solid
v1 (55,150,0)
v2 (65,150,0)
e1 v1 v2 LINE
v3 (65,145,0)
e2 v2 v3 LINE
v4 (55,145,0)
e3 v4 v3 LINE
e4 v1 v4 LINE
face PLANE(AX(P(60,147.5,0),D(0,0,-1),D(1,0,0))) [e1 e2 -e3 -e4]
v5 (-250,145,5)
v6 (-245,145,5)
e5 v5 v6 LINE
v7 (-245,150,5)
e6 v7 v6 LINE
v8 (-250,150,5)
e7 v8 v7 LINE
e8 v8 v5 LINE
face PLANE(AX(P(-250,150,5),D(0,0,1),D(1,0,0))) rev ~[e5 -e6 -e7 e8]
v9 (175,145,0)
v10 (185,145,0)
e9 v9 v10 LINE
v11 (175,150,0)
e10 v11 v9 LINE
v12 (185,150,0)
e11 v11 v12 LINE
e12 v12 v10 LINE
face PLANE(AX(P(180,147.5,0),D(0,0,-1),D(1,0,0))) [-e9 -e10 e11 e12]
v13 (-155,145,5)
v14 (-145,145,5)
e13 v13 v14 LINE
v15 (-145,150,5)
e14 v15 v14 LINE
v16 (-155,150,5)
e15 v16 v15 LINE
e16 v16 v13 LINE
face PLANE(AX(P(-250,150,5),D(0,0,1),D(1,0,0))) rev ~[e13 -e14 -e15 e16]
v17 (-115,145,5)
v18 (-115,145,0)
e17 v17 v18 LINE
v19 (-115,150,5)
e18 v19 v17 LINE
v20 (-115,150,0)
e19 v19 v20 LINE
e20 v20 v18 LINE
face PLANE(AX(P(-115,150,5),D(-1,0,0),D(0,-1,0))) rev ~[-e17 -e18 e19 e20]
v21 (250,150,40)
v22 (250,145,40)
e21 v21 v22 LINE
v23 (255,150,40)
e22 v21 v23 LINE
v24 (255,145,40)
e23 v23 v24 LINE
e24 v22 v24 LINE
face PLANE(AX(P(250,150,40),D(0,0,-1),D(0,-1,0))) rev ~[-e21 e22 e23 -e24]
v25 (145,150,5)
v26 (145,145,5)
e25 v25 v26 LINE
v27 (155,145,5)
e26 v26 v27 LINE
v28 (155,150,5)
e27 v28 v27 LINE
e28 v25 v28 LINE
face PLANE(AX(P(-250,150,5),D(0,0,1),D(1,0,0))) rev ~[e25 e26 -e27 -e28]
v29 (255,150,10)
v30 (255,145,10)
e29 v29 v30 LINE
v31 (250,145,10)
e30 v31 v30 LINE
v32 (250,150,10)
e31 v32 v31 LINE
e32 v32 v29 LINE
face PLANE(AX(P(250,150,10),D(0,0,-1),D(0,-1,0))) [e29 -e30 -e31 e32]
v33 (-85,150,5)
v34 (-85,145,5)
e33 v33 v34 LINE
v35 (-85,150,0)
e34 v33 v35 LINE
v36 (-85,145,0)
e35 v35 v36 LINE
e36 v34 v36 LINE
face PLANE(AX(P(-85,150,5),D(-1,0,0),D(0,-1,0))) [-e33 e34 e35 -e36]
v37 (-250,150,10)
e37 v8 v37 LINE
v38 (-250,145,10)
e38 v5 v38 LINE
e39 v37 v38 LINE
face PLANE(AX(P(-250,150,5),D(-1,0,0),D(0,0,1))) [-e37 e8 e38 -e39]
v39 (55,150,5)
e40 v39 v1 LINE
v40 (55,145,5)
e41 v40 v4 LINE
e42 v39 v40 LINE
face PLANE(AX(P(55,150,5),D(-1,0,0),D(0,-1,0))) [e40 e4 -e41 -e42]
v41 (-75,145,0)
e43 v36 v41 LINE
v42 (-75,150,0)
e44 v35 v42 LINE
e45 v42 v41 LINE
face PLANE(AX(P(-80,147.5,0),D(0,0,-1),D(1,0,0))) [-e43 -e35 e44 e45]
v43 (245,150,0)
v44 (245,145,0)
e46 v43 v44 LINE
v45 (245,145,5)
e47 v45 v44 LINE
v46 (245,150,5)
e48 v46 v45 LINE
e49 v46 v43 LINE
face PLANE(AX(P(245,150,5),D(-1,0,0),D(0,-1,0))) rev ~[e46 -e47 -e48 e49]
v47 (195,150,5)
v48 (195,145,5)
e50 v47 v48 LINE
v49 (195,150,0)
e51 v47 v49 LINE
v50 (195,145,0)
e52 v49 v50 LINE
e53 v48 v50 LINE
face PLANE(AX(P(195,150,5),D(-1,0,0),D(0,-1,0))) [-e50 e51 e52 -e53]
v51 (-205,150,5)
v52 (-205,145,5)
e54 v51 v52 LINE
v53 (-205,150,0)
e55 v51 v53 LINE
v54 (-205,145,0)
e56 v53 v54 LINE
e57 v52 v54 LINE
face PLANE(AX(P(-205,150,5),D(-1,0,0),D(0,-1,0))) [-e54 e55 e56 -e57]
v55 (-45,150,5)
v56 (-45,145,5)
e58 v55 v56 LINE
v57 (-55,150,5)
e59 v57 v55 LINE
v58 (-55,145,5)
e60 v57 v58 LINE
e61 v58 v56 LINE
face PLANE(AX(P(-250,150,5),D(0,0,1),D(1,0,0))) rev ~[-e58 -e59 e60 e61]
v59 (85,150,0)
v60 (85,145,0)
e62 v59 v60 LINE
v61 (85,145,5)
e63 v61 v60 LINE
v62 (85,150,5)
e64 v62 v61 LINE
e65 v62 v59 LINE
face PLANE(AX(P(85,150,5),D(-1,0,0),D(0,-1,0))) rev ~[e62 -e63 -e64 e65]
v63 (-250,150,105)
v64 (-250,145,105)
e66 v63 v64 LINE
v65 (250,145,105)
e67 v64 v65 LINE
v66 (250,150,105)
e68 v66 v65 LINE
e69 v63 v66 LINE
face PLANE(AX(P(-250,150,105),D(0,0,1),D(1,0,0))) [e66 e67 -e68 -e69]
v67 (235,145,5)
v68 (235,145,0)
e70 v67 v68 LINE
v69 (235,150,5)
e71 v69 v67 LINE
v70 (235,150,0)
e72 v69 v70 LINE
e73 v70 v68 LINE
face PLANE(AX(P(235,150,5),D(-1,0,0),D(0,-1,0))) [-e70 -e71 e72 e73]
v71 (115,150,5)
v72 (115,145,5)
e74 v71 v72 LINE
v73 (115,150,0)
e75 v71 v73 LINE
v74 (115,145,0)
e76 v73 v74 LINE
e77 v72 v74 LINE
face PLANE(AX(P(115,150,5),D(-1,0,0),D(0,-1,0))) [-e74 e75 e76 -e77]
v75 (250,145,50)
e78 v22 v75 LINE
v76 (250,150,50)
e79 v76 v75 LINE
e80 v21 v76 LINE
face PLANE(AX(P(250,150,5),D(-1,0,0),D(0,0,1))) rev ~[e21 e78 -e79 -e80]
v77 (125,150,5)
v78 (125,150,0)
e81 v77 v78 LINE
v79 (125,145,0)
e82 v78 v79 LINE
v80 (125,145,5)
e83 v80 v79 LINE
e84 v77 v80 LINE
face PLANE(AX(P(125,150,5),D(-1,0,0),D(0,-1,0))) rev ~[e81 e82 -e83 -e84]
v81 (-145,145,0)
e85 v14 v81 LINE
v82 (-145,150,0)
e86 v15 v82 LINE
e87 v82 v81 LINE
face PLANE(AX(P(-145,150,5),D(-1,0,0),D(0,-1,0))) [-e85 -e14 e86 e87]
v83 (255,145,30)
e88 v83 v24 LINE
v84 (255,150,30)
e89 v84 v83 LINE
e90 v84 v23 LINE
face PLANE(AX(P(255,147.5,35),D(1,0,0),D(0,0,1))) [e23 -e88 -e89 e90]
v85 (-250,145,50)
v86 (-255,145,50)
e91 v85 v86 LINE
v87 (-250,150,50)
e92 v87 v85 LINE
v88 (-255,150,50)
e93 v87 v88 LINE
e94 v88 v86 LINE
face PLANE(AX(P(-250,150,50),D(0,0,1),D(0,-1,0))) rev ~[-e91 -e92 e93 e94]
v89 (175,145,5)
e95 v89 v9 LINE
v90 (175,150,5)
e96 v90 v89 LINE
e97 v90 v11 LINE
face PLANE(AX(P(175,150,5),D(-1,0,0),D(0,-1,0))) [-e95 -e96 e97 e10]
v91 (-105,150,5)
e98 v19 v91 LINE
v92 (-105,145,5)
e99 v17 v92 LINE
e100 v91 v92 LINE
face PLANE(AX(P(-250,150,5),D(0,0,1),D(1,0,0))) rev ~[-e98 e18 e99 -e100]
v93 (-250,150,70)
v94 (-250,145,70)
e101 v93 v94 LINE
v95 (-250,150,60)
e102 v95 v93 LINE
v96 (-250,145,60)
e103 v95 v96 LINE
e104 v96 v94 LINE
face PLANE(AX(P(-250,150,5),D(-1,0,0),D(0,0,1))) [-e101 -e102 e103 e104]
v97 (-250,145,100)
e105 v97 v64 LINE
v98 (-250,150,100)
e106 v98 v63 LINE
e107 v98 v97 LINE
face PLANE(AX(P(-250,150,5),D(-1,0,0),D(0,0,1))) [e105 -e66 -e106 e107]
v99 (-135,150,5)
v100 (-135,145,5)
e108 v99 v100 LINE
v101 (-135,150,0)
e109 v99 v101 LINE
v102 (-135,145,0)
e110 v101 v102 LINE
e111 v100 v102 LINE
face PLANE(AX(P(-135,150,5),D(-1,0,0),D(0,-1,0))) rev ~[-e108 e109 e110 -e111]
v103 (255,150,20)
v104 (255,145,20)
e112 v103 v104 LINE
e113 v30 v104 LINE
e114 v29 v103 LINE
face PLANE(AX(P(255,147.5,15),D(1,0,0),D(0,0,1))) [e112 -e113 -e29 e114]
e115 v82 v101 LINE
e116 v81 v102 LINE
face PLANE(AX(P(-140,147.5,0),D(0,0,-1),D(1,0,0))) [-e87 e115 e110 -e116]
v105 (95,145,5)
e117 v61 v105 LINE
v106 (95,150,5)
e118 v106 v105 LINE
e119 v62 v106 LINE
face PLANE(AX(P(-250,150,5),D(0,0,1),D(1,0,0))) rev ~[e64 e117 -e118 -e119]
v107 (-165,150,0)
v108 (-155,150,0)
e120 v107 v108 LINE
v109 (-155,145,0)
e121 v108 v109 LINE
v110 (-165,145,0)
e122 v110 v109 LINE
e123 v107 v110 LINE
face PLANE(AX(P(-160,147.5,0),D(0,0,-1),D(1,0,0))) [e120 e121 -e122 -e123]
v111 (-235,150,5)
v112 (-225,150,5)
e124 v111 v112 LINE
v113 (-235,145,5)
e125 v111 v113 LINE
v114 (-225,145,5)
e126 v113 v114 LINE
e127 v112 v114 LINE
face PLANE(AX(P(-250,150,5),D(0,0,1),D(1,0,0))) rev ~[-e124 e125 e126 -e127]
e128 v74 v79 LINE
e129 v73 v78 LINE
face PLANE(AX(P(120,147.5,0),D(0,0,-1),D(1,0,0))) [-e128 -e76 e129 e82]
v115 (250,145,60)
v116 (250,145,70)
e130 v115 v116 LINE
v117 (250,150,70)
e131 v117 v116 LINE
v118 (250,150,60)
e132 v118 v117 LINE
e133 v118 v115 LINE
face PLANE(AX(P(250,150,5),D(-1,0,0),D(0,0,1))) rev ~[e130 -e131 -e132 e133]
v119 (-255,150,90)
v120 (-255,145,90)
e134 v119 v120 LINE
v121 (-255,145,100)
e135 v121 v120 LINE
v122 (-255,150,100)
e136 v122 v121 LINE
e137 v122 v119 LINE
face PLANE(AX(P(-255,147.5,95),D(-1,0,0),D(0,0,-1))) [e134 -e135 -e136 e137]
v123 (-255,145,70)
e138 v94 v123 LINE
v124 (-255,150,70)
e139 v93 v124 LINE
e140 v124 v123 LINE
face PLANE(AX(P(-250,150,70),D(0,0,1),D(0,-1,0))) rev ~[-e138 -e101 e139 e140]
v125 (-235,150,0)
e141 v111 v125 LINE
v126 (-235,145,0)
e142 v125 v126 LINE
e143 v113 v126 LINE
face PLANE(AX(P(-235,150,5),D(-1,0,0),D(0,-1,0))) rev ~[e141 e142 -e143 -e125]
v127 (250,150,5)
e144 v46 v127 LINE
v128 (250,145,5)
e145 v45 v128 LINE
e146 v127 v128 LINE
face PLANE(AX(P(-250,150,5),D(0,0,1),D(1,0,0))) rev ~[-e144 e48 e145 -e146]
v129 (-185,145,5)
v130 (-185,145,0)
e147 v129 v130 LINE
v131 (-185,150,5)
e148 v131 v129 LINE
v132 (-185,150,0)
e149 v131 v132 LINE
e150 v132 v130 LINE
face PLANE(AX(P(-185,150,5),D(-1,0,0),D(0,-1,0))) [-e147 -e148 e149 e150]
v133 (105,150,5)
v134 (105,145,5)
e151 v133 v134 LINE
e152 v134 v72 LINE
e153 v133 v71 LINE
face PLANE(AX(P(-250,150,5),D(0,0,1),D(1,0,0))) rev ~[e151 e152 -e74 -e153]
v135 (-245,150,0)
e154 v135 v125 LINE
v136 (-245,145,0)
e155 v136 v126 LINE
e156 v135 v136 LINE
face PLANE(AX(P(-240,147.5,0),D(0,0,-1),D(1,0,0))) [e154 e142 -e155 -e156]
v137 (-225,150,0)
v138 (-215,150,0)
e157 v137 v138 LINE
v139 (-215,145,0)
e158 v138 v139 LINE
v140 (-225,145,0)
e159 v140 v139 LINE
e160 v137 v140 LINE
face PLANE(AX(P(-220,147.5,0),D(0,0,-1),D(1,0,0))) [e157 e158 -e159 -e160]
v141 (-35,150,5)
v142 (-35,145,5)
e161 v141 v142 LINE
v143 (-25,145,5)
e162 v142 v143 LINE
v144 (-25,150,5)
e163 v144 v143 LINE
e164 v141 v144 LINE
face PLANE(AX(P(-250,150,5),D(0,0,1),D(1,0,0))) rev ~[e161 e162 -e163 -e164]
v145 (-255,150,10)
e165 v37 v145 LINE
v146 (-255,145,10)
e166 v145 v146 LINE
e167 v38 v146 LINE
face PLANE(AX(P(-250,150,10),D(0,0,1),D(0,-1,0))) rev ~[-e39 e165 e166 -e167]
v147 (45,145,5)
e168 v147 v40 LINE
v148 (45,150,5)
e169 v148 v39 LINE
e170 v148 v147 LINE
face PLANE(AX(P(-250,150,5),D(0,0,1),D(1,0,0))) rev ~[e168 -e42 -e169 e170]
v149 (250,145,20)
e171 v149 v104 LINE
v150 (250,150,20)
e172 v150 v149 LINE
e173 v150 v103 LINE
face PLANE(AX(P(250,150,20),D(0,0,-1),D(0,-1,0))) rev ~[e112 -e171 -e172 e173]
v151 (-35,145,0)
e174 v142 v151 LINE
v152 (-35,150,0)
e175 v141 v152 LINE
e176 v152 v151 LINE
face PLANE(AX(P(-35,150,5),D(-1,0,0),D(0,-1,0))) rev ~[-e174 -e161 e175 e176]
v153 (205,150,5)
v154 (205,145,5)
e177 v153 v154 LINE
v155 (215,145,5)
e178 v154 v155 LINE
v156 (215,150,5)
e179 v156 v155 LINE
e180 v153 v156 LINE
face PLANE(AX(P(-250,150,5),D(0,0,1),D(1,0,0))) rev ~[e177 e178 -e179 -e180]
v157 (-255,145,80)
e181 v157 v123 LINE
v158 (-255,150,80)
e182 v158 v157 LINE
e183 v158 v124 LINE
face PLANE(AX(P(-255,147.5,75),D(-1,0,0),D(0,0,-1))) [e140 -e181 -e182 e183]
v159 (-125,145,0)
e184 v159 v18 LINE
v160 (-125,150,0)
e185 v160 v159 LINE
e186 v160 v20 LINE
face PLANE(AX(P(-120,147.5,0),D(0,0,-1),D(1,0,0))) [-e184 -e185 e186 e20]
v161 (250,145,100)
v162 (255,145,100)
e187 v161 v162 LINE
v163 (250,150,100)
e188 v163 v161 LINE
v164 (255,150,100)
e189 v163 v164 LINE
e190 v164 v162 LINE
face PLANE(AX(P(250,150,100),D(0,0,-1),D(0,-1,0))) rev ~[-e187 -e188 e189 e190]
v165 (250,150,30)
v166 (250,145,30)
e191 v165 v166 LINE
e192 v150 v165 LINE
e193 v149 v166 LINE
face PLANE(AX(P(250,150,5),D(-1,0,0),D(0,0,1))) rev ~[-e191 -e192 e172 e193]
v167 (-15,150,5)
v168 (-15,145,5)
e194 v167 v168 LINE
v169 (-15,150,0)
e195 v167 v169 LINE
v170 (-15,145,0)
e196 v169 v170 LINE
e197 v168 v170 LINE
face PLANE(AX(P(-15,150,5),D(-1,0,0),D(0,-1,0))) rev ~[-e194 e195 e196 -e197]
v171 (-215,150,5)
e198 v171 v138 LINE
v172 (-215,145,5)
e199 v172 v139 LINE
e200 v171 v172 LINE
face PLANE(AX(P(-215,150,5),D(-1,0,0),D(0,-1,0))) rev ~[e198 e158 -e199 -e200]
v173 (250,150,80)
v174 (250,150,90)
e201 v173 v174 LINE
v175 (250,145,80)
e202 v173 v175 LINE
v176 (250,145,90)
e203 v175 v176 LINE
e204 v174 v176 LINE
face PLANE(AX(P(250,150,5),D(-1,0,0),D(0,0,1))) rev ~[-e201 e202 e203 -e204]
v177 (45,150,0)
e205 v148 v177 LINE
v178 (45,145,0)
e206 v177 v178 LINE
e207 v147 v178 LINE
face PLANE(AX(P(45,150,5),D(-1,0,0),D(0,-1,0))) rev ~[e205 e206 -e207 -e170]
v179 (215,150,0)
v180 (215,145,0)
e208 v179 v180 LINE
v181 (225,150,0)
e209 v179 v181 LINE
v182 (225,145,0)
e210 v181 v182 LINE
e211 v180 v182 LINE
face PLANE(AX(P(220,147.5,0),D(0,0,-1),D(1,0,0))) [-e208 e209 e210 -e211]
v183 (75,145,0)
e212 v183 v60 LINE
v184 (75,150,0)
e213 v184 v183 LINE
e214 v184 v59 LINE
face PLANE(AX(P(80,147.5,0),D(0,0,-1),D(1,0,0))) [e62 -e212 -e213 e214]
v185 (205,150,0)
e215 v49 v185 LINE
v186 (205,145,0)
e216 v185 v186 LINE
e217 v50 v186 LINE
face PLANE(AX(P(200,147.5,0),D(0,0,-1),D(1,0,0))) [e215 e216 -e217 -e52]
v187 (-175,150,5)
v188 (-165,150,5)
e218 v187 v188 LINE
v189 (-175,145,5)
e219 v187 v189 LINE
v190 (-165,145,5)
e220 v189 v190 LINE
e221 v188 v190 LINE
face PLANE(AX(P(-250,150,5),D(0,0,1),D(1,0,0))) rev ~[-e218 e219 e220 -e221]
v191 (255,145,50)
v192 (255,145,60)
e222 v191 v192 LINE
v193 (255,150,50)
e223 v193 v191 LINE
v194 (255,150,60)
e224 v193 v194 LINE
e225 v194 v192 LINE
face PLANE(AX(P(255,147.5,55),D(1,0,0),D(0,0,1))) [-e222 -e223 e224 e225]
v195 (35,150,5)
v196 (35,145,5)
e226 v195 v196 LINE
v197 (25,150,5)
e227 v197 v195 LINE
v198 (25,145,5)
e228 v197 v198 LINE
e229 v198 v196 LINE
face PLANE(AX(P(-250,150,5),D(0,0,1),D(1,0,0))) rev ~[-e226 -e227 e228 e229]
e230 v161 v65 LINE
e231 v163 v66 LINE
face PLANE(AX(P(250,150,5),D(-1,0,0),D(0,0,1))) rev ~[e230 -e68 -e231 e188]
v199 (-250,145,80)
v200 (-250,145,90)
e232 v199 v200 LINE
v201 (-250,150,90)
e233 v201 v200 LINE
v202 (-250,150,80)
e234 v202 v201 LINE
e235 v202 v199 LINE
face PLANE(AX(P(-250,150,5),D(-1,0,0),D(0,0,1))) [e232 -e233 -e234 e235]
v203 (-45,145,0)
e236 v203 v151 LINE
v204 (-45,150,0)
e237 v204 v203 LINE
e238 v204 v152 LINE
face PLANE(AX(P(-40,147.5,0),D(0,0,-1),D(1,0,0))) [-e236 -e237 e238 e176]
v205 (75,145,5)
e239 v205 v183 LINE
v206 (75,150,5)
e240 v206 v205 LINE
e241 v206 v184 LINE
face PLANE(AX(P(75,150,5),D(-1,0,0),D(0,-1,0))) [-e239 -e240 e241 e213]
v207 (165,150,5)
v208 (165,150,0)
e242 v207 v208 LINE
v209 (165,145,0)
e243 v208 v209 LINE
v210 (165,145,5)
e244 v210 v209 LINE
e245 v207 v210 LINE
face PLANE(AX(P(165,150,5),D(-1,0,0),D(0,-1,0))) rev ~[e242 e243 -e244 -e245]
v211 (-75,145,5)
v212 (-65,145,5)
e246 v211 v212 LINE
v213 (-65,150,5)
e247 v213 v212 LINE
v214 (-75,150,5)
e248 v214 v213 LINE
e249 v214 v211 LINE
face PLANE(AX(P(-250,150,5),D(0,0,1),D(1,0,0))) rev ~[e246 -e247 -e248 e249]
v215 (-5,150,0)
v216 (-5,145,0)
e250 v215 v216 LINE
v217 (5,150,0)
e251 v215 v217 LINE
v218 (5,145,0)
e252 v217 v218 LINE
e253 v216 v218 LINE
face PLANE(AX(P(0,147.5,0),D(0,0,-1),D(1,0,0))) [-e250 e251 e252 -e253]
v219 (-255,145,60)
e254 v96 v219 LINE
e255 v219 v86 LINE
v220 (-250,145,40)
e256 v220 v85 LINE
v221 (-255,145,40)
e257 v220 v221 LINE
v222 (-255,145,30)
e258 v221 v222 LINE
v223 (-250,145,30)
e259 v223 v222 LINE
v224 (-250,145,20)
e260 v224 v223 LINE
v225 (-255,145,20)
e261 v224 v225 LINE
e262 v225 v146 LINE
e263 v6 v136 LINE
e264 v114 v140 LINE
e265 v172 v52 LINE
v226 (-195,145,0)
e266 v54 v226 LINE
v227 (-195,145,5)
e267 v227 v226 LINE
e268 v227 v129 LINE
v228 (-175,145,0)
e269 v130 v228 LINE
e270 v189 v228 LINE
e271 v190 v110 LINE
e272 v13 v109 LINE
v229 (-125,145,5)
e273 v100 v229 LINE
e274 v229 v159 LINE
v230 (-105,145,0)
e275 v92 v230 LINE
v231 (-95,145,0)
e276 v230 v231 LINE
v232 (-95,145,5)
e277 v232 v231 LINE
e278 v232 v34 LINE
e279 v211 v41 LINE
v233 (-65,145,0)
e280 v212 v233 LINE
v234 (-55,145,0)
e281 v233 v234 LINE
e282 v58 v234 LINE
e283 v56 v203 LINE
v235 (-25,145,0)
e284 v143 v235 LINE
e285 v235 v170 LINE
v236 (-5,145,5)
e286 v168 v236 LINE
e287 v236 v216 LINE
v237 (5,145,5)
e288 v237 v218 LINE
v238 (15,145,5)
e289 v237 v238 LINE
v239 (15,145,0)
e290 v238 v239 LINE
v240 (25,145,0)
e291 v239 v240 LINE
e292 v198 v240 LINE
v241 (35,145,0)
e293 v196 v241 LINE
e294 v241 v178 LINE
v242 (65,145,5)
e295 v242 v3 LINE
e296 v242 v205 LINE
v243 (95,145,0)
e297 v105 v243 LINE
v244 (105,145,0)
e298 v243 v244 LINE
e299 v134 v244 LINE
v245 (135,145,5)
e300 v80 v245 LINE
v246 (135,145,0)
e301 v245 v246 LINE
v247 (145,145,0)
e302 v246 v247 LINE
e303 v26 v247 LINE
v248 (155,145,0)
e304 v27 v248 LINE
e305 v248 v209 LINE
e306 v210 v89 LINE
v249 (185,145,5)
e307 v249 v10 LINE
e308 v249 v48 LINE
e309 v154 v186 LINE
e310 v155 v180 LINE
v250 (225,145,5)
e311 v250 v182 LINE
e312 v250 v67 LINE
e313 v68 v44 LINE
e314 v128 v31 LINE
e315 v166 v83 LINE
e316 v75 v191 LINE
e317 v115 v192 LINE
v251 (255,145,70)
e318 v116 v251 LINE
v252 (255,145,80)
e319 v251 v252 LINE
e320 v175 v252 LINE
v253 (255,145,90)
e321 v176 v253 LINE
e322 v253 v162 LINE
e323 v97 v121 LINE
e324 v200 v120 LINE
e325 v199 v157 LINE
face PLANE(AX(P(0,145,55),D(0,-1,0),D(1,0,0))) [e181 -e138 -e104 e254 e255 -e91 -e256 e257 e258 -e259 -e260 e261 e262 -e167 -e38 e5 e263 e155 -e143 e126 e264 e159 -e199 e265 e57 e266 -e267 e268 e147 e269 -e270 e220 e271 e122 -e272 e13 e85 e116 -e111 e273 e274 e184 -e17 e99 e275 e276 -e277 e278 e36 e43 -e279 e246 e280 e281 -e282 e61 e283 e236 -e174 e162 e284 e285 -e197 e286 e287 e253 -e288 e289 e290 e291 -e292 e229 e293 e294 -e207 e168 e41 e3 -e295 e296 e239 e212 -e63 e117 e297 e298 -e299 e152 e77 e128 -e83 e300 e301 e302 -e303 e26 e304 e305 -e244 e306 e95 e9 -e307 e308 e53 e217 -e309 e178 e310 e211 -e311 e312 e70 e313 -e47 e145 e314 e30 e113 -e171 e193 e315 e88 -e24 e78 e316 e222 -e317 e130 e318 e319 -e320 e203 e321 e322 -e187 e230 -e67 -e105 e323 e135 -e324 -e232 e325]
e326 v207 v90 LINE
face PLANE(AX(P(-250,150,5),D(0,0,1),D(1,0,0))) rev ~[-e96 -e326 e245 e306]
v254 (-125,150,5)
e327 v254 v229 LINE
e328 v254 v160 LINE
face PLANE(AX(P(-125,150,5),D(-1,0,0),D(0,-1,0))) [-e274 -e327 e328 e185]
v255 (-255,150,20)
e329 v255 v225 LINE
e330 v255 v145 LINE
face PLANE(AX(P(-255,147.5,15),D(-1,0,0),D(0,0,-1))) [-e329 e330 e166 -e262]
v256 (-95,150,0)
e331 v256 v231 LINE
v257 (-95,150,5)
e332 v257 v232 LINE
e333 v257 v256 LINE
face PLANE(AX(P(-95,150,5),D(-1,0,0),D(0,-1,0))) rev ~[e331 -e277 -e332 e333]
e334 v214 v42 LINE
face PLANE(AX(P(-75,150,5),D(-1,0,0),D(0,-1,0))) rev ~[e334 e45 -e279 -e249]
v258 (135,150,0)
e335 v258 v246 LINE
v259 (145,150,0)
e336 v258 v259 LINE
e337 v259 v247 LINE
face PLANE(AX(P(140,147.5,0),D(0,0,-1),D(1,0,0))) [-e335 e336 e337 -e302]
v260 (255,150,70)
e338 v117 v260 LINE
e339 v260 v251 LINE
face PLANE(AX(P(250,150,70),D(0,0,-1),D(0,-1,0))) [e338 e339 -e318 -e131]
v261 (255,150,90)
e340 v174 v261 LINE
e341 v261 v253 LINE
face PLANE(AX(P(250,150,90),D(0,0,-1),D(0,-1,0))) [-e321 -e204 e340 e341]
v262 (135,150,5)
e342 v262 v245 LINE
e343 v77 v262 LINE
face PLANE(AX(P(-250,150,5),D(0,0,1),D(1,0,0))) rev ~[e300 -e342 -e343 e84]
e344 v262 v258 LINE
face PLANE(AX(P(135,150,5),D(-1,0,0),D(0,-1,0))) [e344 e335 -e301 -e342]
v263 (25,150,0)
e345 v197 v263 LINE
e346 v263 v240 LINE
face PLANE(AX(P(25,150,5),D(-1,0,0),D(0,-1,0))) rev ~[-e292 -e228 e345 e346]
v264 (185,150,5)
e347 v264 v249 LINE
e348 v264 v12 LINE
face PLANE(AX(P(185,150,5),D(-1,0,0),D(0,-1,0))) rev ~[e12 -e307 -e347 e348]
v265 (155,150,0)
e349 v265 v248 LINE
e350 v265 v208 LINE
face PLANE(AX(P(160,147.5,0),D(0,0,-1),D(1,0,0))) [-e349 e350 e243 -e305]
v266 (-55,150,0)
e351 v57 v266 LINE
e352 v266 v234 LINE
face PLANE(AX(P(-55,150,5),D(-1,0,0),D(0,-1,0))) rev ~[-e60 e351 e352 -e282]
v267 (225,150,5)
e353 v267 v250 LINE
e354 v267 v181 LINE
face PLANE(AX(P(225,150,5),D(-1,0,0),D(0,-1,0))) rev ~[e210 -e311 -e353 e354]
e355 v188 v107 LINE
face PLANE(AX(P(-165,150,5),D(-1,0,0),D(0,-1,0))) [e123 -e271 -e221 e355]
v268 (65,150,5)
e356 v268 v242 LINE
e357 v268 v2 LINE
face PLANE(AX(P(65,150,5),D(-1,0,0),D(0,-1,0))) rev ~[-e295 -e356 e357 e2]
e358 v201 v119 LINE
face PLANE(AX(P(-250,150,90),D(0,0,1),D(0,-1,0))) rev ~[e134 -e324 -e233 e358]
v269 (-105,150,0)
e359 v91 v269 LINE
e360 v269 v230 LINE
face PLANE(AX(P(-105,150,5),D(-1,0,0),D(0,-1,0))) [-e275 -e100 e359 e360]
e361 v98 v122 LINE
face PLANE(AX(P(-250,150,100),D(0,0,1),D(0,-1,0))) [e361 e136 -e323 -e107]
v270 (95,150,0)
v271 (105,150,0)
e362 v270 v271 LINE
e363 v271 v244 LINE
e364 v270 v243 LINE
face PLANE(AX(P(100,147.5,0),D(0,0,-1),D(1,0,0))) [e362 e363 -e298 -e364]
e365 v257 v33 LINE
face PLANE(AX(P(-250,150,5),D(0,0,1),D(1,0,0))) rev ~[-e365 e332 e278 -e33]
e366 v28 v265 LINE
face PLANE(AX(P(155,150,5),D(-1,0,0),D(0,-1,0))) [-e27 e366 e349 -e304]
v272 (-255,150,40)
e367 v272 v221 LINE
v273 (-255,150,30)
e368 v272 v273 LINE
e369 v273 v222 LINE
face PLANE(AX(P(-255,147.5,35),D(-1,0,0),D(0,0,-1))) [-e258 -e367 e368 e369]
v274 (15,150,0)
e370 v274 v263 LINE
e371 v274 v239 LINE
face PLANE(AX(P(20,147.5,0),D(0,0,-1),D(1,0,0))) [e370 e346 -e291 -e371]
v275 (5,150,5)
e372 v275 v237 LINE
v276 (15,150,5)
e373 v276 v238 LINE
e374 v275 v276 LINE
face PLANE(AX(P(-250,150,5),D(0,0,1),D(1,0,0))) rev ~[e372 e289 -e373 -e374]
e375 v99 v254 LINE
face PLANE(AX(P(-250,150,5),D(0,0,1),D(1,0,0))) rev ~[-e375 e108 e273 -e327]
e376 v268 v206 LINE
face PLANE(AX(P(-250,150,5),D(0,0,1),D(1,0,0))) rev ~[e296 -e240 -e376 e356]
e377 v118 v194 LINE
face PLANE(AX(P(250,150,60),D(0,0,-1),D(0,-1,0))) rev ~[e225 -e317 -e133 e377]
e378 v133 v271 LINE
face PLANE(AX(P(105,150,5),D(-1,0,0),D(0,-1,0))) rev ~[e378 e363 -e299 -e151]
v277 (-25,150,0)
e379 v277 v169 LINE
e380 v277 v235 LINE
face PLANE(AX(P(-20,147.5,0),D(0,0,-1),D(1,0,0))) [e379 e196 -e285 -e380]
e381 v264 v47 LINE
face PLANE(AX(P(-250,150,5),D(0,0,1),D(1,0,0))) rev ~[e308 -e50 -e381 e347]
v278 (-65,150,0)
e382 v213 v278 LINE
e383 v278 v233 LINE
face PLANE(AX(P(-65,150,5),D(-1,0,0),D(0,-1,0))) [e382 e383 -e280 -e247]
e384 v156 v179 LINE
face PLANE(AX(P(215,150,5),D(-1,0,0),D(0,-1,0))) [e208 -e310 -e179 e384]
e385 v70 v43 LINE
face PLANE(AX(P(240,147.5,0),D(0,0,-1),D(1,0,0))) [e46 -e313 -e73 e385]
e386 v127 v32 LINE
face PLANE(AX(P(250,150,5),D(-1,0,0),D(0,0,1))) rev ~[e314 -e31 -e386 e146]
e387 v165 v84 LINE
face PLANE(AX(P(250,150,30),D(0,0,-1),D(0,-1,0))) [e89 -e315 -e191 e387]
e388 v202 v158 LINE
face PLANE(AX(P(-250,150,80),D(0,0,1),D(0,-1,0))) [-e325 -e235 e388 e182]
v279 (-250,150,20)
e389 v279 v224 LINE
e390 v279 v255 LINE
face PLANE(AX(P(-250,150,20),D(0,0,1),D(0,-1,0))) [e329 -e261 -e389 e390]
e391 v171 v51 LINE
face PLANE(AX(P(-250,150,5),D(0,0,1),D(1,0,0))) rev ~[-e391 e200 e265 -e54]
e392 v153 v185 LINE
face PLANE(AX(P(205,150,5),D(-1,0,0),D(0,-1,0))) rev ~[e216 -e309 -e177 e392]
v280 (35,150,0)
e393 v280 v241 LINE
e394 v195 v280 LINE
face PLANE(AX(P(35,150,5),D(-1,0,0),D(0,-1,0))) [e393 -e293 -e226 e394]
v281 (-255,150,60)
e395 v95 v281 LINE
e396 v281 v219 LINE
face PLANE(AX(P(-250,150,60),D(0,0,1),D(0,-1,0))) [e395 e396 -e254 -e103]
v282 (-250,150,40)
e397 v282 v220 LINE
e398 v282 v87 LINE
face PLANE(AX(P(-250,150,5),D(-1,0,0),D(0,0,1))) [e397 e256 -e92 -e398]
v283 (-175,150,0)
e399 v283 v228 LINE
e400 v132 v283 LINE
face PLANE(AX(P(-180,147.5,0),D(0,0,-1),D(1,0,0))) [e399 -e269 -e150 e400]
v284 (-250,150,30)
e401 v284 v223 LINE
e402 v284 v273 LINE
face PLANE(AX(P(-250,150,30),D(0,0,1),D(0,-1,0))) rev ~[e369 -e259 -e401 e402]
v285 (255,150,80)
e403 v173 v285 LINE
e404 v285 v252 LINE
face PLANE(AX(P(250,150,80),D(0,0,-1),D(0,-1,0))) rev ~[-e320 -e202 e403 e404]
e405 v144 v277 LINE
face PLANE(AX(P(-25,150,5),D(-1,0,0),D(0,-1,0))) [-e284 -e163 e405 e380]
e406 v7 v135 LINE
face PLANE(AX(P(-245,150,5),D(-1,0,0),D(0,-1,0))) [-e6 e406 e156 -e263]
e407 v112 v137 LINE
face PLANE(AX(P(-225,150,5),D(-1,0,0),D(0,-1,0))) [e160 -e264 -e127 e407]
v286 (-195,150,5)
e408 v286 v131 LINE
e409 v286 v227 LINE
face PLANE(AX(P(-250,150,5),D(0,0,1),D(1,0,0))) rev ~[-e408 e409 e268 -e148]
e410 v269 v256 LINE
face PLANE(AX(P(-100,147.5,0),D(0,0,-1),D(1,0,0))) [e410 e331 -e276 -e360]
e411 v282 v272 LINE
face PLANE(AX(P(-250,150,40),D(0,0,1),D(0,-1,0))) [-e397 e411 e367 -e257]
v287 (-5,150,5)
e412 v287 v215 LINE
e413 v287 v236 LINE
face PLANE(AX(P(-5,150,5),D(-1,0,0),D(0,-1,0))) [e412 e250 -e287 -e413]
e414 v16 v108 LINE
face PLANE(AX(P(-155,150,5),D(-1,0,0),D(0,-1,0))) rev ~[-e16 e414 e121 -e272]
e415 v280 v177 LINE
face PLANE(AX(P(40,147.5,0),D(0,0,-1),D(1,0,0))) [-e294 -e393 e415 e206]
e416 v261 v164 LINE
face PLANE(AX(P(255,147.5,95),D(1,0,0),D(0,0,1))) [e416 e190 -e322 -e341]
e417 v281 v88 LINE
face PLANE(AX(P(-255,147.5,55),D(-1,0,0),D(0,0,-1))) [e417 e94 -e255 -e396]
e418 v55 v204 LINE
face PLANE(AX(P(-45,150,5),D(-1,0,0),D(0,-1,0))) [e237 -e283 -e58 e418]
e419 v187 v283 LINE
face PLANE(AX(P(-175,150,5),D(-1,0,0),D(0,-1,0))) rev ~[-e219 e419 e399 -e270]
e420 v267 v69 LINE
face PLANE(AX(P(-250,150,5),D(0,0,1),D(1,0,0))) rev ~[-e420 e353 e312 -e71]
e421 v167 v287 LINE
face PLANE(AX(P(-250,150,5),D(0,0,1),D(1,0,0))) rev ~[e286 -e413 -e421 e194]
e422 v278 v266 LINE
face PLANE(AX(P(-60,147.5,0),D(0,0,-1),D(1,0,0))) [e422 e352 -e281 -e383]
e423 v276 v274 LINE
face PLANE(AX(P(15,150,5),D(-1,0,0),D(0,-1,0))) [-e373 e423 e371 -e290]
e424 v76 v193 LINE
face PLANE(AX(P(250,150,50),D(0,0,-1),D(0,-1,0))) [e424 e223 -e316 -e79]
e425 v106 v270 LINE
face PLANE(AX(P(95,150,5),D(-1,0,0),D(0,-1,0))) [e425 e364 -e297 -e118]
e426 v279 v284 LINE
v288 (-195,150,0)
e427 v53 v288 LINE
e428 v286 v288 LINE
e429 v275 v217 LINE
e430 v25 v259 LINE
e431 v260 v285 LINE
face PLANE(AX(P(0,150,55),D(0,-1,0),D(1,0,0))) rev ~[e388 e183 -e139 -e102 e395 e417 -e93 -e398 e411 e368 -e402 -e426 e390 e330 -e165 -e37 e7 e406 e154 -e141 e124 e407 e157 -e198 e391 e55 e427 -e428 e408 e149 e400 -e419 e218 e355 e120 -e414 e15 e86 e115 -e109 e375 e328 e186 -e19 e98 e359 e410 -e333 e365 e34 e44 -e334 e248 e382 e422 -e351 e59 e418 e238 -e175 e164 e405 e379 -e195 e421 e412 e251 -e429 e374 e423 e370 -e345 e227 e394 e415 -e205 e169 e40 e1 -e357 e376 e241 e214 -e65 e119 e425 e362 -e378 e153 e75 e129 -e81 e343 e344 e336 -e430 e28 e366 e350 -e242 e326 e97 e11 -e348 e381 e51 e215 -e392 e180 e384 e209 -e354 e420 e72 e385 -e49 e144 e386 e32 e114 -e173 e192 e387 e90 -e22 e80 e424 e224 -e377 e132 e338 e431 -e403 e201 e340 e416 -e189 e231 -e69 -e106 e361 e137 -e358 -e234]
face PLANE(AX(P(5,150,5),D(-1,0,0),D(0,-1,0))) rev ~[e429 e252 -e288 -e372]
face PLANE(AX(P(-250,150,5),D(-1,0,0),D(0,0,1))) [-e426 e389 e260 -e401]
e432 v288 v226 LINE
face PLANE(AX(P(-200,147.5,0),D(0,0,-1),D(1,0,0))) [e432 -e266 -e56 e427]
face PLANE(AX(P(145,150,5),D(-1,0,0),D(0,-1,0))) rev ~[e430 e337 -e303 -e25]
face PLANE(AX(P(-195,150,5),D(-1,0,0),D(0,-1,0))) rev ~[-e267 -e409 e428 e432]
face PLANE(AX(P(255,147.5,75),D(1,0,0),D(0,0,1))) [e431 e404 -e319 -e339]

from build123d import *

# Parameters (mm, degrees)
SKETCH001_W             = 500
SKETCH001_H             = 100
PAD001_DEPTH            = 5
SKETCH022_W             = 10
SKETCH022_H             = 5
PAD020_DEPTH            = 5
LINEARPATTERN002_COUNT  = 25
LINEARPATTERN002_PITCH  = 20
SKETCH023_W             = 10
SKETCH023_H             = 5
PAD021_DEPTH            = 5
LINEARPATTERN003_COUNT  = 5
LINEARPATTERN003_PITCH  = 20
SKETCH024_W             = 10
SKETCH024_H             = 5
PAD022_DEPTH            = 5
LINEARPATTERN004_COUNT  = 5
LINEARPATTERN004_PITCH  = 20
BODY001_PLACEMENT_ANGLE = 90


with BuildPart() as part:
    # Sketch001 → Pad001 (new body)
    with BuildSketch(Plane.XY):
        Rectangle(SKETCH001_W, SKETCH001_H)
    extrude(amount=PAD001_DEPTH)

    # Sketch022 (on DatumPlane) → Pad020 (join)
    with BuildSketch(Plane.XZ.offset(50)):
        with Locations((-240, 2.5)):
            Rectangle(SKETCH022_W, SKETCH022_H)
    pad020 = extrude(amount=PAD020_DEPTH)

    # LinearPattern002: Pad020 ×25
    with Locations(*[(i * LINEARPATTERN002_PITCH, 0, 0) for i in range(1, LINEARPATTERN002_COUNT)]):
        add(pad020)

    # Sketch023 (on DatumPlane) → Pad021 (join)
    with BuildSketch(Plane.YZ.offset(250)):
        with Locations((-40, 2.5)):
            Rectangle(SKETCH023_W, SKETCH023_H)
    pad021 = extrude(amount=PAD021_DEPTH)

    # LinearPattern003: Pad021 ×5
    with Locations(*[(0, i * LINEARPATTERN003_PITCH, 0) for i in range(1, LINEARPATTERN003_COUNT)]):
        add(pad021)

    # Sketch024 (on DatumPlane) → Pad022 (join)
    with BuildSketch(Plane(origin=(-250, 0, 0), x_dir=(0, -1, 0), z_dir=(-1, 0, 0))):
        with Locations((-40, 2.5)):
            Rectangle(SKETCH024_W, SKETCH024_H)
    pad022 = extrude(amount=PAD022_DEPTH)

    # LinearPattern004: Pad022 ×5
    with Locations(*[(0, -i * LINEARPATTERN004_PITCH, 0) for i in range(1, LINEARPATTERN004_COUNT)]):
        add(pad022)


with BuildPart() as part_1:
    # Body001 placement: moved
    add(part.part.moved(Location((0, 150, 55))).rotate(Axis((0, 150, 55), (1, 0, 0)), BODY001_PLACEMENT_ANGLE))


solid = part_1.part
